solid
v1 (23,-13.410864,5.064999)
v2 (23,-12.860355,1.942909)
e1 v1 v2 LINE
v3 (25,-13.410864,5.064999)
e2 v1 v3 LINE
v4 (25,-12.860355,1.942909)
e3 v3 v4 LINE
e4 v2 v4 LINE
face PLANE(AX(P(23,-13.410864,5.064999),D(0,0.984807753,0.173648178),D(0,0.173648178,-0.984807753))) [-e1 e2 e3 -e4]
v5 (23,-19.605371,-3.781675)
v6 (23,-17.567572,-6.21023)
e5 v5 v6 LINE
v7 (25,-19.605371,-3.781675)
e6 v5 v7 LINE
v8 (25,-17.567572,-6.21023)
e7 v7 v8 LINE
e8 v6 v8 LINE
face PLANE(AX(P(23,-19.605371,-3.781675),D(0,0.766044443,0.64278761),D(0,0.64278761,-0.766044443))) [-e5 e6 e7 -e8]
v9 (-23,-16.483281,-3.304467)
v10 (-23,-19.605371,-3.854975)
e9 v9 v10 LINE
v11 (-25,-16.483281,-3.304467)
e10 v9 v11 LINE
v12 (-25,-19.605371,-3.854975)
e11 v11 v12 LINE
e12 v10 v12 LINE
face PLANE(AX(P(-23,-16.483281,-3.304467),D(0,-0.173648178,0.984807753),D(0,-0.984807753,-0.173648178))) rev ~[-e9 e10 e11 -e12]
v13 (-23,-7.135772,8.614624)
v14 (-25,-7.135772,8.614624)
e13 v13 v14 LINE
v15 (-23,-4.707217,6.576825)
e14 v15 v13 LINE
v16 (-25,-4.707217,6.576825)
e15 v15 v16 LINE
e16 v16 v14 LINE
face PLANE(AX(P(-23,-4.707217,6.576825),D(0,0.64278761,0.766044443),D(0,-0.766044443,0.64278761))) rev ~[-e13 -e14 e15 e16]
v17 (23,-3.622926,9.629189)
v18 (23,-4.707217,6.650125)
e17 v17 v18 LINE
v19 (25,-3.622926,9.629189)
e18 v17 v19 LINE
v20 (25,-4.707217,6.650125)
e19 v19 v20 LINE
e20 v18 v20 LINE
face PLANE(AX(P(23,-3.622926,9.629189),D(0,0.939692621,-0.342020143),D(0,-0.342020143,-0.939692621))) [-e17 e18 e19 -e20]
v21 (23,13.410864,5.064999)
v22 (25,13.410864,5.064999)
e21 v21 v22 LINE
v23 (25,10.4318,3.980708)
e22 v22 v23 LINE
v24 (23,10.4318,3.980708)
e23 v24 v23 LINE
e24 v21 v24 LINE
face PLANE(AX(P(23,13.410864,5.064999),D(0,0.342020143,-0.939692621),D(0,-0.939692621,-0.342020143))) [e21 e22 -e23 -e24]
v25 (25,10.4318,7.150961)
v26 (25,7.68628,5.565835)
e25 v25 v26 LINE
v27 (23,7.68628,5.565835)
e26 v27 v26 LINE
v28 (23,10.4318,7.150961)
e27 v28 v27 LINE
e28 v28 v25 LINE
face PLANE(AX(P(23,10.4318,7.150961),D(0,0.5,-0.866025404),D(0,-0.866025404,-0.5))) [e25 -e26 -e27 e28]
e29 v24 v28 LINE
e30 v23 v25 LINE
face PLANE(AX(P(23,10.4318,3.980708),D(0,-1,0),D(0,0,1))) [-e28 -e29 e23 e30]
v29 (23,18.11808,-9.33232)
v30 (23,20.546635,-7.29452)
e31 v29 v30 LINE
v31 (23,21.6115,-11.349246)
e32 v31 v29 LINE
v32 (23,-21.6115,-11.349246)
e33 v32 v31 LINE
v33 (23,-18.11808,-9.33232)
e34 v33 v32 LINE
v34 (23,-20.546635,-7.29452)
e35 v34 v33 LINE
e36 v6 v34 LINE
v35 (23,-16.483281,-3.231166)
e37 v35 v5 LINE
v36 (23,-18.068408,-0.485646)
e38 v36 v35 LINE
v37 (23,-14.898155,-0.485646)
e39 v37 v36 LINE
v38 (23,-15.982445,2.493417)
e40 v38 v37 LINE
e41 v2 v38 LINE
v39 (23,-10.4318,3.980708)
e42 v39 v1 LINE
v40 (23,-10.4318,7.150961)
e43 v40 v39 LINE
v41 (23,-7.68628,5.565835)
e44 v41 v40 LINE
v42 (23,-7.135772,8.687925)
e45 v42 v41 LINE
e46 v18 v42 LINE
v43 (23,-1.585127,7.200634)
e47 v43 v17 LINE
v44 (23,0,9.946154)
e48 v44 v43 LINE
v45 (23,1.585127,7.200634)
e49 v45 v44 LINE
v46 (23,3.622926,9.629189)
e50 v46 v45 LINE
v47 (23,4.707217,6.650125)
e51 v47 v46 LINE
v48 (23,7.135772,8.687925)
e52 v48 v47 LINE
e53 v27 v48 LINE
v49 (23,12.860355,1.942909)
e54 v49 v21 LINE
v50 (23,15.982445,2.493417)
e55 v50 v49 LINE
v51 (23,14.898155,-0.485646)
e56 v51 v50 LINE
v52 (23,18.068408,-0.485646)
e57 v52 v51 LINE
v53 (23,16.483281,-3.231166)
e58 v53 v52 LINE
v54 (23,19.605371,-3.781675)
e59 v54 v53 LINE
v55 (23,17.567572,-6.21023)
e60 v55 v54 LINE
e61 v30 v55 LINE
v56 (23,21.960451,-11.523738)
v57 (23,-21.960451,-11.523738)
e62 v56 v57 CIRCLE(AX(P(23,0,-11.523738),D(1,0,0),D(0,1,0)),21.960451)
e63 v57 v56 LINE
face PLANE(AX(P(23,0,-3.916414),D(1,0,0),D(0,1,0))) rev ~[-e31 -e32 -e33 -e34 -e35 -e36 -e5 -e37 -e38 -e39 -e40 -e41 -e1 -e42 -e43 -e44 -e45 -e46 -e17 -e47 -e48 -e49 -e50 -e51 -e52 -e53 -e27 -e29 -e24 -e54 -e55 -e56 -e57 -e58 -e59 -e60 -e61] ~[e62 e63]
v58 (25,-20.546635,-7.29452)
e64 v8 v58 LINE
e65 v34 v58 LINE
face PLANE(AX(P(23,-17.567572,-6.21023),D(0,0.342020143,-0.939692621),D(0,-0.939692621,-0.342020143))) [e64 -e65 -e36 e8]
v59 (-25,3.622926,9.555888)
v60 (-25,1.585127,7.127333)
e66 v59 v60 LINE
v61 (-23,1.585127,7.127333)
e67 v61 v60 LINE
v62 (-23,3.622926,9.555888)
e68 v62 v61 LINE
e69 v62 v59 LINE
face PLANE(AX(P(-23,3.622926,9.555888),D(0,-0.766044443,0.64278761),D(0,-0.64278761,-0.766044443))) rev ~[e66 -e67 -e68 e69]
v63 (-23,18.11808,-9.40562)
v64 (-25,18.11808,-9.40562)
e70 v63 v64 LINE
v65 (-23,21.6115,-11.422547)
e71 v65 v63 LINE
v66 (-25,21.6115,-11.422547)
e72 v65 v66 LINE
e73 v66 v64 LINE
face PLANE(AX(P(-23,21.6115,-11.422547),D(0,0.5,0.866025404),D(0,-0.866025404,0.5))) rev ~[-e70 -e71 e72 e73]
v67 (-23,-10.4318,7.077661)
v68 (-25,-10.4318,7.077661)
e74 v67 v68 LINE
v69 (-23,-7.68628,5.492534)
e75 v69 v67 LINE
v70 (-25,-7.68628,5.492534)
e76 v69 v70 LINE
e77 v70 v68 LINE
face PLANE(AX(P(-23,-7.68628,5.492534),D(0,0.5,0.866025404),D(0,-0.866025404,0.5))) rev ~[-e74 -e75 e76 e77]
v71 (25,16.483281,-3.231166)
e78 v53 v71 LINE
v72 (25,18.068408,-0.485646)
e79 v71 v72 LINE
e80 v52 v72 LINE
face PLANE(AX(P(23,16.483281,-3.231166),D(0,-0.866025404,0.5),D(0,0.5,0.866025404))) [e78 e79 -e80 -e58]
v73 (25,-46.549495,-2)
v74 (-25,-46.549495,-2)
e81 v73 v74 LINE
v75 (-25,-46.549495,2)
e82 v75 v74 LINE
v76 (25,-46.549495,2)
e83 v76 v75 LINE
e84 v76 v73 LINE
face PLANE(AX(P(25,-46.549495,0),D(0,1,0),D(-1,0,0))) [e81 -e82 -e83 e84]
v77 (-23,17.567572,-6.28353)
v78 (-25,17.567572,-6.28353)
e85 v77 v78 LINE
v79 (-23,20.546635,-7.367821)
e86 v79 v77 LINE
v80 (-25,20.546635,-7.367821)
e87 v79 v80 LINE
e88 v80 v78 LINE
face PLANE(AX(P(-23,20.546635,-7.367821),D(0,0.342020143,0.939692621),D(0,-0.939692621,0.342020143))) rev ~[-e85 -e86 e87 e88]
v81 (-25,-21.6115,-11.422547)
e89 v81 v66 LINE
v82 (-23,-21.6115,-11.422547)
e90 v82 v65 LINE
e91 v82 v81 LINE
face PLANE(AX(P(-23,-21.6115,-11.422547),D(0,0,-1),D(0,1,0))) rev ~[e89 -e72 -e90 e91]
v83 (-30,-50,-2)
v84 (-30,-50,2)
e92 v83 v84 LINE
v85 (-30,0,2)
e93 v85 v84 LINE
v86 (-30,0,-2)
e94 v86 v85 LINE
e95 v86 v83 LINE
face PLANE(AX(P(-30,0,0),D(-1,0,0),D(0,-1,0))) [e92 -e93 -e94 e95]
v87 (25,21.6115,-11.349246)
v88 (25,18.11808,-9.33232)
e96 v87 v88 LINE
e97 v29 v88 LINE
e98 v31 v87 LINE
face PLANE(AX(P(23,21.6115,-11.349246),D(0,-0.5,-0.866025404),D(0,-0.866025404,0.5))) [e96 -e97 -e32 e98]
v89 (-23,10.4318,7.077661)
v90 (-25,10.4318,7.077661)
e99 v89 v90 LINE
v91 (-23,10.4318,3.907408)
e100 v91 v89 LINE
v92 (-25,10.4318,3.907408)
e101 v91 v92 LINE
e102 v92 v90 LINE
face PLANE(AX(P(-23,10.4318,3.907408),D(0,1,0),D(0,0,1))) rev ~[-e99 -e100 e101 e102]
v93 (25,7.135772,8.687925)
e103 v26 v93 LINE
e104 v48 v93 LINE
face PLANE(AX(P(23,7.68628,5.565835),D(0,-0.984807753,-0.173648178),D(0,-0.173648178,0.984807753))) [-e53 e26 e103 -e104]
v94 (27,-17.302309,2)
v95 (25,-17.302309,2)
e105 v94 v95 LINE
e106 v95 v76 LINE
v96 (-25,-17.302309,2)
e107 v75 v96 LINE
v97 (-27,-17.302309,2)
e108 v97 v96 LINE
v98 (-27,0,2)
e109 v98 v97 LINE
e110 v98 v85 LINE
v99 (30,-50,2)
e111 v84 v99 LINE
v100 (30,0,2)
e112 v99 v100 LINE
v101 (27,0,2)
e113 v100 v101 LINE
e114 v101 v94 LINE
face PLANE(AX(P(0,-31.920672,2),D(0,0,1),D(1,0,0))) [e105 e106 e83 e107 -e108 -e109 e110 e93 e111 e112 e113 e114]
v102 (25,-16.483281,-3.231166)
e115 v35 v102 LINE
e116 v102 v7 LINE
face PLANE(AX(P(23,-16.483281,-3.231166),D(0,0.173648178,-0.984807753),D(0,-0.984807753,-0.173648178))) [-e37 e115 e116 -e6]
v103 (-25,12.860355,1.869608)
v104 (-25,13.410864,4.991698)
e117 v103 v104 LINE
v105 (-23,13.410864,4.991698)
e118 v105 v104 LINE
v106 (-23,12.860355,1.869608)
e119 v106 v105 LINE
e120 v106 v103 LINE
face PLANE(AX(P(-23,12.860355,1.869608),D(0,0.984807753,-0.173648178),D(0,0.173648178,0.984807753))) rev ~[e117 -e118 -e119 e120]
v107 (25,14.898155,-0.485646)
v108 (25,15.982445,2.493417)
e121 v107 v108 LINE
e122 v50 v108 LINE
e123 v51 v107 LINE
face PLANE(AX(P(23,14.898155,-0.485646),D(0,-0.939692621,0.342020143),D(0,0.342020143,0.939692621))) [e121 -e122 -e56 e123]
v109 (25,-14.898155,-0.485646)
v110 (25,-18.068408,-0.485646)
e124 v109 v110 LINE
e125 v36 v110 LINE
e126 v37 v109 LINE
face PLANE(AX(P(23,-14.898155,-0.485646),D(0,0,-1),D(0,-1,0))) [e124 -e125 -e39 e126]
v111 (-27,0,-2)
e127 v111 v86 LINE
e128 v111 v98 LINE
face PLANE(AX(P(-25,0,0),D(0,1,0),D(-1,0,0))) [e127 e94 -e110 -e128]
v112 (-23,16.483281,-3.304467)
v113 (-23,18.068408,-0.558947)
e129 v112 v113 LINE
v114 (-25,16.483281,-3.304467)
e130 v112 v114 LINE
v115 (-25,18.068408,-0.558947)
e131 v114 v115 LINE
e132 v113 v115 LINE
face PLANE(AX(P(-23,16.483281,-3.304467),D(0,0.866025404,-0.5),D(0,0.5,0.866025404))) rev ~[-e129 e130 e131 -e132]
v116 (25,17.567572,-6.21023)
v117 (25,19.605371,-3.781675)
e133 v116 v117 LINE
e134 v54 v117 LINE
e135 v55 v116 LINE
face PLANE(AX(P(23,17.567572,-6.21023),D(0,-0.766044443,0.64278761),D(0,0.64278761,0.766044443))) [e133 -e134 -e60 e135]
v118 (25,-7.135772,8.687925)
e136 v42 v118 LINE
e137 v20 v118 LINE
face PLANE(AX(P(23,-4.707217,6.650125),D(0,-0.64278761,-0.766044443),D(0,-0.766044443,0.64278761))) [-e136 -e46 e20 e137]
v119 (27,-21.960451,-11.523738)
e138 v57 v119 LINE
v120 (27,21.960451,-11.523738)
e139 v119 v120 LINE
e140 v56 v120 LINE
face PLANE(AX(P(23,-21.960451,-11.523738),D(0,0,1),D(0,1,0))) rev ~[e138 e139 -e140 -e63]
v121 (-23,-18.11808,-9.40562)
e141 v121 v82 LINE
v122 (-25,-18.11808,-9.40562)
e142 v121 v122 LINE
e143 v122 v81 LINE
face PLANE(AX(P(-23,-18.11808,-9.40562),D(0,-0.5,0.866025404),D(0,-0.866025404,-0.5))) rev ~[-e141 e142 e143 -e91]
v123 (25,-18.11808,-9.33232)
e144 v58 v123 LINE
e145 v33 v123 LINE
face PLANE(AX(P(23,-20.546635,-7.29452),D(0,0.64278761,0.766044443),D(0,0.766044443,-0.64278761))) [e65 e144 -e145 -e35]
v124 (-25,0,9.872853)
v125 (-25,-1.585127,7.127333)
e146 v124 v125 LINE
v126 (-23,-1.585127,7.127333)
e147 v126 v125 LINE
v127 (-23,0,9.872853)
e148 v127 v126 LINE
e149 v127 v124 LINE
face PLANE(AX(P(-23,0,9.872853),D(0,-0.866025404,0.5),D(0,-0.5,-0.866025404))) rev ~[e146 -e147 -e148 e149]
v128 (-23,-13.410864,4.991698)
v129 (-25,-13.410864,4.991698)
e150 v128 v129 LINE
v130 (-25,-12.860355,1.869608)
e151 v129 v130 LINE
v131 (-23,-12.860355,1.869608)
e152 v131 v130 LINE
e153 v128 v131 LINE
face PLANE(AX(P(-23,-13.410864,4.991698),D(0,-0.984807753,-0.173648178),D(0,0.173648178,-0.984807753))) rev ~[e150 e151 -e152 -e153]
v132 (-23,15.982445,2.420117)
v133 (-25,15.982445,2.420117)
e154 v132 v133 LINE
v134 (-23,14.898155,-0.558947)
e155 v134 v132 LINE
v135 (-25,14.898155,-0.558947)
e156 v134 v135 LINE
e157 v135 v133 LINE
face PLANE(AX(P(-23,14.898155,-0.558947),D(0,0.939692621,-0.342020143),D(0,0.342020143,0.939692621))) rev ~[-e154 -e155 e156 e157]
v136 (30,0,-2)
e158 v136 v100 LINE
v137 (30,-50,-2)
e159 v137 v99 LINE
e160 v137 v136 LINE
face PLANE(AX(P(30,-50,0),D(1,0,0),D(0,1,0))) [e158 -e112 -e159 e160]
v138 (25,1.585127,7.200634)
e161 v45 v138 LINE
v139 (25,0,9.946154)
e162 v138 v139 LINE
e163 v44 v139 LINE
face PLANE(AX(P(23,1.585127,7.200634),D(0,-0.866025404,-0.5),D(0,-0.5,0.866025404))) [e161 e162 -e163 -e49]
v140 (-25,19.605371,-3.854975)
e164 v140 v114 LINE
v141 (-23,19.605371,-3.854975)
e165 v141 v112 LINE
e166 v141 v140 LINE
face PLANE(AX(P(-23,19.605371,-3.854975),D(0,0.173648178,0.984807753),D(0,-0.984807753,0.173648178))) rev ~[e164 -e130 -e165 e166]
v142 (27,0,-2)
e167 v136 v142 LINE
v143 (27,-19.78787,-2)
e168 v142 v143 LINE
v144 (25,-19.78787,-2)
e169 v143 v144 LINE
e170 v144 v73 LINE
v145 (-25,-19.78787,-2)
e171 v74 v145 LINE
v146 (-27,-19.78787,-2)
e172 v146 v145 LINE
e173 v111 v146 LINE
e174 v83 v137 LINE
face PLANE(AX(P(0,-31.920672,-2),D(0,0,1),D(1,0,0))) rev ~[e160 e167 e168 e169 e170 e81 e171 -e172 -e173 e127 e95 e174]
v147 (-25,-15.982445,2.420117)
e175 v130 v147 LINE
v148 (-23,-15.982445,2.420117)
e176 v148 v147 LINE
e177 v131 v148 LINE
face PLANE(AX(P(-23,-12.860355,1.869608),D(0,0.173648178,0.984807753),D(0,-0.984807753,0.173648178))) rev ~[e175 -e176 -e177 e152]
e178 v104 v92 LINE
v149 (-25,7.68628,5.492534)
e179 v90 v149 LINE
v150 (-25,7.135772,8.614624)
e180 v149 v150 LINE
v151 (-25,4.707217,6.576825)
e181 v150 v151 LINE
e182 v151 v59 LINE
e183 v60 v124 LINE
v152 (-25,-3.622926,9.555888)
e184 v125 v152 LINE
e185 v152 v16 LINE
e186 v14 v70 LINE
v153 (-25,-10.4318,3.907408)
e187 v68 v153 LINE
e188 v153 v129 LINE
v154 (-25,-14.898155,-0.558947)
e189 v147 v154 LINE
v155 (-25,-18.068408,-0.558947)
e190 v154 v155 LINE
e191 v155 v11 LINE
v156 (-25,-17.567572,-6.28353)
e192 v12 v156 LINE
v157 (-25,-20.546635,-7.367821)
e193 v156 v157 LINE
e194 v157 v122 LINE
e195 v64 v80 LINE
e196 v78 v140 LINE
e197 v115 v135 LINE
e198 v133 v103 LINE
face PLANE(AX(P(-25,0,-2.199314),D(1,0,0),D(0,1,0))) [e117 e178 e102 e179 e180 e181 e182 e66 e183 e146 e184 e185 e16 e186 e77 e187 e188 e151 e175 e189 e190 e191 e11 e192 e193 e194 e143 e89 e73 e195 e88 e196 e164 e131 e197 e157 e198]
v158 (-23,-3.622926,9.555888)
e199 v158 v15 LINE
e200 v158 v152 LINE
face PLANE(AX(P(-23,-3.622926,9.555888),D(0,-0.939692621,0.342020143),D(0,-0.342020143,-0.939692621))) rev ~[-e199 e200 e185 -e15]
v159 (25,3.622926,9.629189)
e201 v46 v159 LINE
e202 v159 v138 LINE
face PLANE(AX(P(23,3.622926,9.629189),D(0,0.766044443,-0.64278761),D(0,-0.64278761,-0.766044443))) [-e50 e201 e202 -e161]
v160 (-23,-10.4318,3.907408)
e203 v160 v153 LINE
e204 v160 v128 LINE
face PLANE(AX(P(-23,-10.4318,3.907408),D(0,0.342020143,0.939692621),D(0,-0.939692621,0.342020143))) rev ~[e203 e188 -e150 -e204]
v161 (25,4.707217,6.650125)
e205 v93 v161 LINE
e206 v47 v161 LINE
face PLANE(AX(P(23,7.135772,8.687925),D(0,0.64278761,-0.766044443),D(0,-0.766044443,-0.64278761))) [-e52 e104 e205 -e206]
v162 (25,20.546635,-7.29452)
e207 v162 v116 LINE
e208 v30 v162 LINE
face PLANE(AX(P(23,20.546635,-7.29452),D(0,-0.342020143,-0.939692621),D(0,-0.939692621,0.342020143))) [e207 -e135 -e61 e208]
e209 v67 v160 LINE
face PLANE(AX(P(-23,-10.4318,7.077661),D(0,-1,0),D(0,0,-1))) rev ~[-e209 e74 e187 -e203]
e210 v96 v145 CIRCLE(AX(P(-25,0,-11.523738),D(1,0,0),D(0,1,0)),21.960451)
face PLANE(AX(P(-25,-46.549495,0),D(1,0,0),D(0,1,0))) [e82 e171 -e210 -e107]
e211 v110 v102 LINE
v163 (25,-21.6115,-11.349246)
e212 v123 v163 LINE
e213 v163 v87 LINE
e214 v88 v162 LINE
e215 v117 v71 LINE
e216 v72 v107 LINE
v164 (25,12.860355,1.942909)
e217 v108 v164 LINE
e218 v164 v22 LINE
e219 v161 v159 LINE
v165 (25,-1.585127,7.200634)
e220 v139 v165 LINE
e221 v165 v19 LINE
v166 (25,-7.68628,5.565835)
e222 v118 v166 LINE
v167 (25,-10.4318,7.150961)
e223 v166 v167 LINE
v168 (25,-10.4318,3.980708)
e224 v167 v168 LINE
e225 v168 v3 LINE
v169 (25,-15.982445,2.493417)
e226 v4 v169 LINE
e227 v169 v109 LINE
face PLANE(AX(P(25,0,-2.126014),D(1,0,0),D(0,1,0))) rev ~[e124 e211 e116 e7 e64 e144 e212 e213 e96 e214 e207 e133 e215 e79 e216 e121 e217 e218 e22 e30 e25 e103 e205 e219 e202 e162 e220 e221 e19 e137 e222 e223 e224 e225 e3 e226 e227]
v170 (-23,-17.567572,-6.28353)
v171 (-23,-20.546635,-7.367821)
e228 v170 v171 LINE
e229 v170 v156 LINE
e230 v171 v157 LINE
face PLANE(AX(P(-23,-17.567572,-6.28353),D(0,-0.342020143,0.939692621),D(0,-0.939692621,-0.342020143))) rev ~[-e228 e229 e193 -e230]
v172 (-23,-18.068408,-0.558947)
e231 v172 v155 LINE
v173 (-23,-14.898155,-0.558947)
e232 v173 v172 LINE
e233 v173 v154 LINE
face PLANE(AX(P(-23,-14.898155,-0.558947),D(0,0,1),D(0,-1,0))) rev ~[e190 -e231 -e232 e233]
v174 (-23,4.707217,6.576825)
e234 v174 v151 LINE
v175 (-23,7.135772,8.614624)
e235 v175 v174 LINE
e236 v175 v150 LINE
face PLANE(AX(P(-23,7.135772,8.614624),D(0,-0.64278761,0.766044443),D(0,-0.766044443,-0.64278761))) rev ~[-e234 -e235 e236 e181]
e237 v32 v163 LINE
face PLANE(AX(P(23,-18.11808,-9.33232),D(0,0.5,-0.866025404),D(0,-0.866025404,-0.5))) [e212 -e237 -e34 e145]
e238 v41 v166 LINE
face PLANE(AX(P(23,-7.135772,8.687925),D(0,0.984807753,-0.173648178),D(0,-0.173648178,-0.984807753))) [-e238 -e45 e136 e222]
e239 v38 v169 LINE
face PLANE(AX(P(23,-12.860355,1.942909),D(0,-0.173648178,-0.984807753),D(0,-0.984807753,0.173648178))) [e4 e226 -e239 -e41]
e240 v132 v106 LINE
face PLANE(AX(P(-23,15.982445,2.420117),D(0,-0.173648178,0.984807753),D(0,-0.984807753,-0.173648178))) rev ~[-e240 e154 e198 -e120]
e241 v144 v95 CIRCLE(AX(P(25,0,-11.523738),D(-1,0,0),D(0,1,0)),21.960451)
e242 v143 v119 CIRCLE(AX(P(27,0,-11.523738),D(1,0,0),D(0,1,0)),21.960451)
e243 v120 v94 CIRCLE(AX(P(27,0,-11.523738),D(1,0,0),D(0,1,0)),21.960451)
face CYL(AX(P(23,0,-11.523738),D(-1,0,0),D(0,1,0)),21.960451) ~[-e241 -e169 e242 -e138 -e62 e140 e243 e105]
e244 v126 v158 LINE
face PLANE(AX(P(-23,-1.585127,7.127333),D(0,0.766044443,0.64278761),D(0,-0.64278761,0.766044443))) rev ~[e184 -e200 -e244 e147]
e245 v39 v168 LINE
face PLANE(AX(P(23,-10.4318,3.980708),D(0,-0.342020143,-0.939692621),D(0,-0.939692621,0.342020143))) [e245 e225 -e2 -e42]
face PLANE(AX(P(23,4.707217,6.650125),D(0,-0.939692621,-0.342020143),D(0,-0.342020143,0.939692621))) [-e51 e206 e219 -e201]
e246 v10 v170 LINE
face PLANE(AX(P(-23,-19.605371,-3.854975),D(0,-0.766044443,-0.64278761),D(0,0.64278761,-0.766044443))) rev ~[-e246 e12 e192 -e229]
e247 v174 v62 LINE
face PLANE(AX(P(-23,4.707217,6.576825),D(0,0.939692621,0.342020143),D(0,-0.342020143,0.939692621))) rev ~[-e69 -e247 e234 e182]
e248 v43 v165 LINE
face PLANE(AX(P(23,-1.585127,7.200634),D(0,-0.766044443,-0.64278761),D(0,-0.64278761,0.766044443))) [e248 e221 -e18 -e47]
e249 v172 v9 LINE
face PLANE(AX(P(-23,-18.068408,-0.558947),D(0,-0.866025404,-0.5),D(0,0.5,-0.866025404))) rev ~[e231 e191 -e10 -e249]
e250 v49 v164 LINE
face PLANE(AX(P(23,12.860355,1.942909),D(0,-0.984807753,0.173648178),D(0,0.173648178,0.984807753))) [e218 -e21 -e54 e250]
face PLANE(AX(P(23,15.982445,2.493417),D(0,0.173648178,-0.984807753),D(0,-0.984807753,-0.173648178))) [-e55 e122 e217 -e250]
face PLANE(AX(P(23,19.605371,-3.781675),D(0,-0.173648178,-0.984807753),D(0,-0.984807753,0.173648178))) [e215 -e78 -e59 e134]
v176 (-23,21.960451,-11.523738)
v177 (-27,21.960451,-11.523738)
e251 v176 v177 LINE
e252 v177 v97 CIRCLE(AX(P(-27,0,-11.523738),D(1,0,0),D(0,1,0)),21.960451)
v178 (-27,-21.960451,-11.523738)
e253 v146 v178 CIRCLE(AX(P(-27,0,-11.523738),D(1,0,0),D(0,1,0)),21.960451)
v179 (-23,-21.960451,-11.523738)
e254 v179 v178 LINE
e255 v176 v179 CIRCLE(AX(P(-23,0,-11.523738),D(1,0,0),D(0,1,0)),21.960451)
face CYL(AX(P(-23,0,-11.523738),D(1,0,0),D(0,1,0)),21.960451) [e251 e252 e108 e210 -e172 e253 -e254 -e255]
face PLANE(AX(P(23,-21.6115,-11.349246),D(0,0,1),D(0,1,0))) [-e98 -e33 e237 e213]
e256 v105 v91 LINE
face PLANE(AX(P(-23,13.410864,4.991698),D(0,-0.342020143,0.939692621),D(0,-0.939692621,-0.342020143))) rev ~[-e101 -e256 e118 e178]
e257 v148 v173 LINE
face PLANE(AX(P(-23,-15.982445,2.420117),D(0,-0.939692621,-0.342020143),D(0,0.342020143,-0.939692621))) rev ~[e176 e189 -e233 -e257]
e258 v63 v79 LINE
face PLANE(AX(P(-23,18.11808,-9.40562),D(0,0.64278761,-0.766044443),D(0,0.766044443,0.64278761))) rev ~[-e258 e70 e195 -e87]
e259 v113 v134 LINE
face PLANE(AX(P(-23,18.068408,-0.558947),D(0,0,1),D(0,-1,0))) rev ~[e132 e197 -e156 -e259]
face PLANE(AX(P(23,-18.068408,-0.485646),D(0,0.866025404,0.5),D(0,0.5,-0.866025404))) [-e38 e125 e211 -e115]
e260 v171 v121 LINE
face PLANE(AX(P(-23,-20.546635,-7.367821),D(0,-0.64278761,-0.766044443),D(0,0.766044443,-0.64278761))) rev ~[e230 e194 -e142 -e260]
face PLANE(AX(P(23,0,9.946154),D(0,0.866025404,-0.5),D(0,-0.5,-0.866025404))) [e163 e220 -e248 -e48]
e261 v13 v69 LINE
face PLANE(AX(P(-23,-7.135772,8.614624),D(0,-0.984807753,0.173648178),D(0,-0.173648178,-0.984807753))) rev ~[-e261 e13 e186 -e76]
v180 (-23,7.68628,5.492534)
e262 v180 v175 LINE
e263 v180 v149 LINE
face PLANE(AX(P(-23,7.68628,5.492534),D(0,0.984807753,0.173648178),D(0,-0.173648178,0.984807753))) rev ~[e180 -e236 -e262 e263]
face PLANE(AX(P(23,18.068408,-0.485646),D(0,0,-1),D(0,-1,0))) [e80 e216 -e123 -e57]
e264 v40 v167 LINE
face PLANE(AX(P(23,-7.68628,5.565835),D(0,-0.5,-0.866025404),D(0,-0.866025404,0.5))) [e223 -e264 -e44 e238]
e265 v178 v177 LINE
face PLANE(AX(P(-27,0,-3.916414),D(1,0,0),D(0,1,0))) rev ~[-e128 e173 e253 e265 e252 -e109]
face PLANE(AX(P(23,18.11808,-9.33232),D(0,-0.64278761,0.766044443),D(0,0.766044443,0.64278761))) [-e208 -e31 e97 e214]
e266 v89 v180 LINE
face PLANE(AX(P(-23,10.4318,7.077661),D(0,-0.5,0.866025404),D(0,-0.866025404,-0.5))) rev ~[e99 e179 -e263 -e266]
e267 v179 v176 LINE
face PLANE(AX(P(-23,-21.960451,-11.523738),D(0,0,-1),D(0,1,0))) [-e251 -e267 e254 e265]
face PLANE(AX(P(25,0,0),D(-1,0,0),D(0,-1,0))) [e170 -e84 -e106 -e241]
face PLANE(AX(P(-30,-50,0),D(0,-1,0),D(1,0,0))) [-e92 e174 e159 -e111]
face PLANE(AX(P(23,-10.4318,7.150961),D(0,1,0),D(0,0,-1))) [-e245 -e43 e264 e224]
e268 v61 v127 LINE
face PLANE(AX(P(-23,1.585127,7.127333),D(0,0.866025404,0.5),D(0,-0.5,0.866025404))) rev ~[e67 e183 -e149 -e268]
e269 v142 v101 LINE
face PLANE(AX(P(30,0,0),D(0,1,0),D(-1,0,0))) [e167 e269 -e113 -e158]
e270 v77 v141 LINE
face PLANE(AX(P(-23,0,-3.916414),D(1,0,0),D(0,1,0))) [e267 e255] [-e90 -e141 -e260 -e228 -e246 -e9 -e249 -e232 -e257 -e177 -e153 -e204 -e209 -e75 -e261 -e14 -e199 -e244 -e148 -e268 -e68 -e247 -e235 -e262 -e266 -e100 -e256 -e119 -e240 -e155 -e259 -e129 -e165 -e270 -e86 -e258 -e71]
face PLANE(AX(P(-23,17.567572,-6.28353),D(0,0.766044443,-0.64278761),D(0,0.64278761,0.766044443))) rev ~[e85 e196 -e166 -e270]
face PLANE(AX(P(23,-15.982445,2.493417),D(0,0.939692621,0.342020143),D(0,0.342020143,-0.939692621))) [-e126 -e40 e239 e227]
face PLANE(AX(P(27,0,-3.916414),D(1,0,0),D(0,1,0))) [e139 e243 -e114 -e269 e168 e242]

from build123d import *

# Parameters (mm, degrees)
F0_W      = 40
F0_H      = 60
F1_DEPTH  = 20
F2_W      = 26
F2_H      = 58
F3_DEPTH  = 10
F5_DEPTH  = 5
F14_DEPTH = 4
F15_DEPTH = 2
F16_DEPTH = 4
F17_DEPTH = 2
F20_DEPTH = 2


with BuildPart() as f1:
    # F0 (on Top) → F1 (new body)
    with BuildSketch(Plane.XY):
        Rectangle(F0_W, F0_H)
    extrude(amount=F1_DEPTH)

    # F2 (on face) → F3 (cut)
    with BuildSketch(Plane.XY.offset(20)):
        with Locations((0, -1)):
            Rectangle(F2_W, F2_H)
    extrude(amount=-F3_DEPTH, mode=Mode.SUBTRACT)

    # F4 (on face) → F5 (join)
    with BuildSketch(Plane.YZ.offset(20)):
        Polygon((10, 17.3205080757), (7.368124542, 15.8009940716), (6.8404028665, 18.7938524157), (4.5123723483, 16.8404028665), (3.4729635533, 19.6961550602), (1.5195140041, 17.368124542), (0, 20), (-1.5195140041, 17.368124542), (-3.4729635533, 19.6961550602), (-4.5123723483, 16.8404028665), (-6.8404028665, 18.7938524157), (-7.368124542, 15.8009940716), (-10, 17.3205080757), (-10, 14.2814800674), (-12.8557521937, 15.3208888624), (-12.3280305182, 12.3280305182), (-15.3208888624, 12.8557521937), (-14.2814800674, 10), (-17.3205080757, 10), (-15.8009940716, 7.368124542), (-18.7938524157, 6.8404028665), (-16.8404028665, 4.5123723483), (-19.6961550602, 3.4729635533), (-17.368124542, 1.5195140041), (-20, 0), (20, 0), (17.368124542, 1.5195140041), (19.6961550602, 3.4729635533), (16.8404028665, 4.5123723483), (18.7938524157, 6.8404028665), (15.8009940716, 7.368124542), (17.3205080757, 10), (14.2814800674, 10), (15.3208888624, 12.8557521937), (12.3280305182, 12.3280305182), (12.8557521937, 15.3208888624), (10, 14.2814800674), align=None)
    extrude(amount=F5_DEPTH)

    # F6: F1 across plane


with BuildPart() as f1_1:
    add(f1.part)
    add(f1.part.mirror(Plane.YZ))


with BuildPart() as f14:
    # F12 (on offset) → F14 (new body)
    with BuildSketch(Plane.YZ.offset(-23)):
        with BuildLine():
            Line((-21.9604505755, -11.5237375721), (21.9604505755, -11.5237375721))
            ThreePointArc((21.9604505755, -11.5237375721), (0, 10.4367130033), (-21.9604505755, -11.5237375721))
        make_face()
    extrude(amount=-F14_DEPTH)


with BuildPart() as f15_tool:
    # F10 (on offset) → F15 (new body)
    with BuildSketch(Plane.YZ.offset(-23)):
        Polygon((13.4108637106, 4.9916980332), (10.4318001067, 3.9074075554), (10.4318001067, 7.0776608255), (7.6862802384, 5.4925341904), (7.1357715353, 8.6146241898), (4.7072166344, 6.5768246682), (3.6229261566, 9.5558882722), (1.585126635, 7.1273333713), (0, 9.8728532397), (-1.585126635, 7.1273333713), (-3.6229261566, 9.5558882722), (-4.7072166344, 6.5768246682), (-7.1357715353, 8.6146241898), (-7.6862802384, 5.4925341904), (-10.4318001067, 7.0776608255), (-10.4318001067, 3.9074075554), (-13.4108637106, 4.9916980332), (-12.8603550075, 1.8696080338), (-15.9824450069, 2.4201167369), (-14.8981545291, -0.558946867), (-18.0684077992, -0.558946867), (-16.4832811642, -3.3044667354), (-19.6053711636, -3.8549754385), (-17.567571642, -6.2835303393), (-20.5466352459, -7.3678208171), (-18.1180803451, -9.4056203387), (-21.6114999369, -11.4225470804), (21.6114999369, -11.4225470804), (18.1180803451, -9.4056203387), (20.5466352459, -7.3678208171), (17.567571642, -6.2835303393), (19.6053711636, -3.8549754385), (16.4832811642, -3.3044667354), (18.0684077992, -0.558946867), (14.8981545291, -0.558946867), (15.9824450069, 2.4201167369), (12.8603550075, 1.8696080338), align=None)
    extrude(amount=-F15_DEPTH)


with BuildPart() as f1_2:
    add(f1_1.part)

    # F15: cut by f15_tool
    add(f15_tool.part, mode=Mode.SUBTRACT)


with BuildPart() as f14_1:
    add(f14.part)

    # F15: cut by f15_tool
    add(f15_tool.part, mode=Mode.SUBTRACT)



with BuildPart() as f16:
    # F13 (on offset) → F16 (new body)
    with BuildSketch(Plane.YZ.offset(23)):
        with BuildLine():
            Line((-21.9604505755, -11.5237375721), (21.9604505755, -11.5237375721))
            ThreePointArc((21.9604505755, -11.5237375721), (0, 10.4367130033), (-21.9604505755, -11.5237375721))
        make_face()
    extrude(amount=F16_DEPTH)


with BuildPart() as f17_tool:
    # F11 (on offset) → F17 (new body)
    with BuildSketch(Plane.YZ.offset(23)):
        Polygon((13.4108637106, 5.0649986808), (10.4318001067, 3.980708203), (10.4318001067, 7.1509614731), (7.6862802384, 5.565834838), (7.1357715353, 8.6879248374), (4.7072166344, 6.6501253158), (3.6229261566, 9.6291889197), (1.585126635, 7.2006340189), (0, 9.9461538872), (-1.585126635, 7.2006340189), (-3.6229261566, 9.6291889197), (-4.7072166344, 6.6501253158), (-7.1357715353, 8.6879248374), (-7.6862802384, 5.565834838), (-10.4318001067, 7.1509614731), (-10.4318001067, 3.980708203), (-13.4108637106, 5.0649986808), (-12.8603550075, 1.9429086814), (-15.9824450069, 2.4934173845), (-14.8981545291, -0.4856462195), (-18.0684077992, -0.4856462195), (-16.4832811642, -3.2311660878), (-19.6053711636, -3.7816747909), (-17.567571642, -6.2102296917), (-20.5466352459, -7.2945201695), (-18.1180803451, -9.3323196911), (-21.6114999369, -11.3492464328), (21.6114999369, -11.3492464328), (18.1180803451, -9.3323196911), (20.5466352459, -7.2945201695), (17.567571642, -6.2102296917), (19.6053711636, -3.7816747909), (16.4832811642, -3.2311660878), (18.0684077992, -0.4856462195), (14.8981545291, -0.4856462195), (15.9824450069, 2.4934173845), (12.8603550075, 1.9429086814), align=None)
    extrude(amount=F17_DEPTH)


with BuildPart() as f1_3:
    add(f1_2.part)

    # F17: cut by f17_tool
    add(f17_tool.part, mode=Mode.SUBTRACT)


with BuildPart() as f16_1:
    add(f16.part)

    # F17: cut by f17_tool
    add(f17_tool.part, mode=Mode.SUBTRACT)


with BuildPart() as f14_2:
    add(f14_1.part)

    add(f16_1.part)  # F20 merges F16
    # F19 (on Top) → F20 (join, symmetric)
    with BuildSketch(Plane.XY):
        Polygon((-25, 0), (-30, 0), (-30, -50), (30, -50), (30, 0), (25, 0), (25, -46.5494953096), (-25, -46.5494953096), align=None)
    extrude(amount=F20_DEPTH, both=True)


solid = f14_2.part
